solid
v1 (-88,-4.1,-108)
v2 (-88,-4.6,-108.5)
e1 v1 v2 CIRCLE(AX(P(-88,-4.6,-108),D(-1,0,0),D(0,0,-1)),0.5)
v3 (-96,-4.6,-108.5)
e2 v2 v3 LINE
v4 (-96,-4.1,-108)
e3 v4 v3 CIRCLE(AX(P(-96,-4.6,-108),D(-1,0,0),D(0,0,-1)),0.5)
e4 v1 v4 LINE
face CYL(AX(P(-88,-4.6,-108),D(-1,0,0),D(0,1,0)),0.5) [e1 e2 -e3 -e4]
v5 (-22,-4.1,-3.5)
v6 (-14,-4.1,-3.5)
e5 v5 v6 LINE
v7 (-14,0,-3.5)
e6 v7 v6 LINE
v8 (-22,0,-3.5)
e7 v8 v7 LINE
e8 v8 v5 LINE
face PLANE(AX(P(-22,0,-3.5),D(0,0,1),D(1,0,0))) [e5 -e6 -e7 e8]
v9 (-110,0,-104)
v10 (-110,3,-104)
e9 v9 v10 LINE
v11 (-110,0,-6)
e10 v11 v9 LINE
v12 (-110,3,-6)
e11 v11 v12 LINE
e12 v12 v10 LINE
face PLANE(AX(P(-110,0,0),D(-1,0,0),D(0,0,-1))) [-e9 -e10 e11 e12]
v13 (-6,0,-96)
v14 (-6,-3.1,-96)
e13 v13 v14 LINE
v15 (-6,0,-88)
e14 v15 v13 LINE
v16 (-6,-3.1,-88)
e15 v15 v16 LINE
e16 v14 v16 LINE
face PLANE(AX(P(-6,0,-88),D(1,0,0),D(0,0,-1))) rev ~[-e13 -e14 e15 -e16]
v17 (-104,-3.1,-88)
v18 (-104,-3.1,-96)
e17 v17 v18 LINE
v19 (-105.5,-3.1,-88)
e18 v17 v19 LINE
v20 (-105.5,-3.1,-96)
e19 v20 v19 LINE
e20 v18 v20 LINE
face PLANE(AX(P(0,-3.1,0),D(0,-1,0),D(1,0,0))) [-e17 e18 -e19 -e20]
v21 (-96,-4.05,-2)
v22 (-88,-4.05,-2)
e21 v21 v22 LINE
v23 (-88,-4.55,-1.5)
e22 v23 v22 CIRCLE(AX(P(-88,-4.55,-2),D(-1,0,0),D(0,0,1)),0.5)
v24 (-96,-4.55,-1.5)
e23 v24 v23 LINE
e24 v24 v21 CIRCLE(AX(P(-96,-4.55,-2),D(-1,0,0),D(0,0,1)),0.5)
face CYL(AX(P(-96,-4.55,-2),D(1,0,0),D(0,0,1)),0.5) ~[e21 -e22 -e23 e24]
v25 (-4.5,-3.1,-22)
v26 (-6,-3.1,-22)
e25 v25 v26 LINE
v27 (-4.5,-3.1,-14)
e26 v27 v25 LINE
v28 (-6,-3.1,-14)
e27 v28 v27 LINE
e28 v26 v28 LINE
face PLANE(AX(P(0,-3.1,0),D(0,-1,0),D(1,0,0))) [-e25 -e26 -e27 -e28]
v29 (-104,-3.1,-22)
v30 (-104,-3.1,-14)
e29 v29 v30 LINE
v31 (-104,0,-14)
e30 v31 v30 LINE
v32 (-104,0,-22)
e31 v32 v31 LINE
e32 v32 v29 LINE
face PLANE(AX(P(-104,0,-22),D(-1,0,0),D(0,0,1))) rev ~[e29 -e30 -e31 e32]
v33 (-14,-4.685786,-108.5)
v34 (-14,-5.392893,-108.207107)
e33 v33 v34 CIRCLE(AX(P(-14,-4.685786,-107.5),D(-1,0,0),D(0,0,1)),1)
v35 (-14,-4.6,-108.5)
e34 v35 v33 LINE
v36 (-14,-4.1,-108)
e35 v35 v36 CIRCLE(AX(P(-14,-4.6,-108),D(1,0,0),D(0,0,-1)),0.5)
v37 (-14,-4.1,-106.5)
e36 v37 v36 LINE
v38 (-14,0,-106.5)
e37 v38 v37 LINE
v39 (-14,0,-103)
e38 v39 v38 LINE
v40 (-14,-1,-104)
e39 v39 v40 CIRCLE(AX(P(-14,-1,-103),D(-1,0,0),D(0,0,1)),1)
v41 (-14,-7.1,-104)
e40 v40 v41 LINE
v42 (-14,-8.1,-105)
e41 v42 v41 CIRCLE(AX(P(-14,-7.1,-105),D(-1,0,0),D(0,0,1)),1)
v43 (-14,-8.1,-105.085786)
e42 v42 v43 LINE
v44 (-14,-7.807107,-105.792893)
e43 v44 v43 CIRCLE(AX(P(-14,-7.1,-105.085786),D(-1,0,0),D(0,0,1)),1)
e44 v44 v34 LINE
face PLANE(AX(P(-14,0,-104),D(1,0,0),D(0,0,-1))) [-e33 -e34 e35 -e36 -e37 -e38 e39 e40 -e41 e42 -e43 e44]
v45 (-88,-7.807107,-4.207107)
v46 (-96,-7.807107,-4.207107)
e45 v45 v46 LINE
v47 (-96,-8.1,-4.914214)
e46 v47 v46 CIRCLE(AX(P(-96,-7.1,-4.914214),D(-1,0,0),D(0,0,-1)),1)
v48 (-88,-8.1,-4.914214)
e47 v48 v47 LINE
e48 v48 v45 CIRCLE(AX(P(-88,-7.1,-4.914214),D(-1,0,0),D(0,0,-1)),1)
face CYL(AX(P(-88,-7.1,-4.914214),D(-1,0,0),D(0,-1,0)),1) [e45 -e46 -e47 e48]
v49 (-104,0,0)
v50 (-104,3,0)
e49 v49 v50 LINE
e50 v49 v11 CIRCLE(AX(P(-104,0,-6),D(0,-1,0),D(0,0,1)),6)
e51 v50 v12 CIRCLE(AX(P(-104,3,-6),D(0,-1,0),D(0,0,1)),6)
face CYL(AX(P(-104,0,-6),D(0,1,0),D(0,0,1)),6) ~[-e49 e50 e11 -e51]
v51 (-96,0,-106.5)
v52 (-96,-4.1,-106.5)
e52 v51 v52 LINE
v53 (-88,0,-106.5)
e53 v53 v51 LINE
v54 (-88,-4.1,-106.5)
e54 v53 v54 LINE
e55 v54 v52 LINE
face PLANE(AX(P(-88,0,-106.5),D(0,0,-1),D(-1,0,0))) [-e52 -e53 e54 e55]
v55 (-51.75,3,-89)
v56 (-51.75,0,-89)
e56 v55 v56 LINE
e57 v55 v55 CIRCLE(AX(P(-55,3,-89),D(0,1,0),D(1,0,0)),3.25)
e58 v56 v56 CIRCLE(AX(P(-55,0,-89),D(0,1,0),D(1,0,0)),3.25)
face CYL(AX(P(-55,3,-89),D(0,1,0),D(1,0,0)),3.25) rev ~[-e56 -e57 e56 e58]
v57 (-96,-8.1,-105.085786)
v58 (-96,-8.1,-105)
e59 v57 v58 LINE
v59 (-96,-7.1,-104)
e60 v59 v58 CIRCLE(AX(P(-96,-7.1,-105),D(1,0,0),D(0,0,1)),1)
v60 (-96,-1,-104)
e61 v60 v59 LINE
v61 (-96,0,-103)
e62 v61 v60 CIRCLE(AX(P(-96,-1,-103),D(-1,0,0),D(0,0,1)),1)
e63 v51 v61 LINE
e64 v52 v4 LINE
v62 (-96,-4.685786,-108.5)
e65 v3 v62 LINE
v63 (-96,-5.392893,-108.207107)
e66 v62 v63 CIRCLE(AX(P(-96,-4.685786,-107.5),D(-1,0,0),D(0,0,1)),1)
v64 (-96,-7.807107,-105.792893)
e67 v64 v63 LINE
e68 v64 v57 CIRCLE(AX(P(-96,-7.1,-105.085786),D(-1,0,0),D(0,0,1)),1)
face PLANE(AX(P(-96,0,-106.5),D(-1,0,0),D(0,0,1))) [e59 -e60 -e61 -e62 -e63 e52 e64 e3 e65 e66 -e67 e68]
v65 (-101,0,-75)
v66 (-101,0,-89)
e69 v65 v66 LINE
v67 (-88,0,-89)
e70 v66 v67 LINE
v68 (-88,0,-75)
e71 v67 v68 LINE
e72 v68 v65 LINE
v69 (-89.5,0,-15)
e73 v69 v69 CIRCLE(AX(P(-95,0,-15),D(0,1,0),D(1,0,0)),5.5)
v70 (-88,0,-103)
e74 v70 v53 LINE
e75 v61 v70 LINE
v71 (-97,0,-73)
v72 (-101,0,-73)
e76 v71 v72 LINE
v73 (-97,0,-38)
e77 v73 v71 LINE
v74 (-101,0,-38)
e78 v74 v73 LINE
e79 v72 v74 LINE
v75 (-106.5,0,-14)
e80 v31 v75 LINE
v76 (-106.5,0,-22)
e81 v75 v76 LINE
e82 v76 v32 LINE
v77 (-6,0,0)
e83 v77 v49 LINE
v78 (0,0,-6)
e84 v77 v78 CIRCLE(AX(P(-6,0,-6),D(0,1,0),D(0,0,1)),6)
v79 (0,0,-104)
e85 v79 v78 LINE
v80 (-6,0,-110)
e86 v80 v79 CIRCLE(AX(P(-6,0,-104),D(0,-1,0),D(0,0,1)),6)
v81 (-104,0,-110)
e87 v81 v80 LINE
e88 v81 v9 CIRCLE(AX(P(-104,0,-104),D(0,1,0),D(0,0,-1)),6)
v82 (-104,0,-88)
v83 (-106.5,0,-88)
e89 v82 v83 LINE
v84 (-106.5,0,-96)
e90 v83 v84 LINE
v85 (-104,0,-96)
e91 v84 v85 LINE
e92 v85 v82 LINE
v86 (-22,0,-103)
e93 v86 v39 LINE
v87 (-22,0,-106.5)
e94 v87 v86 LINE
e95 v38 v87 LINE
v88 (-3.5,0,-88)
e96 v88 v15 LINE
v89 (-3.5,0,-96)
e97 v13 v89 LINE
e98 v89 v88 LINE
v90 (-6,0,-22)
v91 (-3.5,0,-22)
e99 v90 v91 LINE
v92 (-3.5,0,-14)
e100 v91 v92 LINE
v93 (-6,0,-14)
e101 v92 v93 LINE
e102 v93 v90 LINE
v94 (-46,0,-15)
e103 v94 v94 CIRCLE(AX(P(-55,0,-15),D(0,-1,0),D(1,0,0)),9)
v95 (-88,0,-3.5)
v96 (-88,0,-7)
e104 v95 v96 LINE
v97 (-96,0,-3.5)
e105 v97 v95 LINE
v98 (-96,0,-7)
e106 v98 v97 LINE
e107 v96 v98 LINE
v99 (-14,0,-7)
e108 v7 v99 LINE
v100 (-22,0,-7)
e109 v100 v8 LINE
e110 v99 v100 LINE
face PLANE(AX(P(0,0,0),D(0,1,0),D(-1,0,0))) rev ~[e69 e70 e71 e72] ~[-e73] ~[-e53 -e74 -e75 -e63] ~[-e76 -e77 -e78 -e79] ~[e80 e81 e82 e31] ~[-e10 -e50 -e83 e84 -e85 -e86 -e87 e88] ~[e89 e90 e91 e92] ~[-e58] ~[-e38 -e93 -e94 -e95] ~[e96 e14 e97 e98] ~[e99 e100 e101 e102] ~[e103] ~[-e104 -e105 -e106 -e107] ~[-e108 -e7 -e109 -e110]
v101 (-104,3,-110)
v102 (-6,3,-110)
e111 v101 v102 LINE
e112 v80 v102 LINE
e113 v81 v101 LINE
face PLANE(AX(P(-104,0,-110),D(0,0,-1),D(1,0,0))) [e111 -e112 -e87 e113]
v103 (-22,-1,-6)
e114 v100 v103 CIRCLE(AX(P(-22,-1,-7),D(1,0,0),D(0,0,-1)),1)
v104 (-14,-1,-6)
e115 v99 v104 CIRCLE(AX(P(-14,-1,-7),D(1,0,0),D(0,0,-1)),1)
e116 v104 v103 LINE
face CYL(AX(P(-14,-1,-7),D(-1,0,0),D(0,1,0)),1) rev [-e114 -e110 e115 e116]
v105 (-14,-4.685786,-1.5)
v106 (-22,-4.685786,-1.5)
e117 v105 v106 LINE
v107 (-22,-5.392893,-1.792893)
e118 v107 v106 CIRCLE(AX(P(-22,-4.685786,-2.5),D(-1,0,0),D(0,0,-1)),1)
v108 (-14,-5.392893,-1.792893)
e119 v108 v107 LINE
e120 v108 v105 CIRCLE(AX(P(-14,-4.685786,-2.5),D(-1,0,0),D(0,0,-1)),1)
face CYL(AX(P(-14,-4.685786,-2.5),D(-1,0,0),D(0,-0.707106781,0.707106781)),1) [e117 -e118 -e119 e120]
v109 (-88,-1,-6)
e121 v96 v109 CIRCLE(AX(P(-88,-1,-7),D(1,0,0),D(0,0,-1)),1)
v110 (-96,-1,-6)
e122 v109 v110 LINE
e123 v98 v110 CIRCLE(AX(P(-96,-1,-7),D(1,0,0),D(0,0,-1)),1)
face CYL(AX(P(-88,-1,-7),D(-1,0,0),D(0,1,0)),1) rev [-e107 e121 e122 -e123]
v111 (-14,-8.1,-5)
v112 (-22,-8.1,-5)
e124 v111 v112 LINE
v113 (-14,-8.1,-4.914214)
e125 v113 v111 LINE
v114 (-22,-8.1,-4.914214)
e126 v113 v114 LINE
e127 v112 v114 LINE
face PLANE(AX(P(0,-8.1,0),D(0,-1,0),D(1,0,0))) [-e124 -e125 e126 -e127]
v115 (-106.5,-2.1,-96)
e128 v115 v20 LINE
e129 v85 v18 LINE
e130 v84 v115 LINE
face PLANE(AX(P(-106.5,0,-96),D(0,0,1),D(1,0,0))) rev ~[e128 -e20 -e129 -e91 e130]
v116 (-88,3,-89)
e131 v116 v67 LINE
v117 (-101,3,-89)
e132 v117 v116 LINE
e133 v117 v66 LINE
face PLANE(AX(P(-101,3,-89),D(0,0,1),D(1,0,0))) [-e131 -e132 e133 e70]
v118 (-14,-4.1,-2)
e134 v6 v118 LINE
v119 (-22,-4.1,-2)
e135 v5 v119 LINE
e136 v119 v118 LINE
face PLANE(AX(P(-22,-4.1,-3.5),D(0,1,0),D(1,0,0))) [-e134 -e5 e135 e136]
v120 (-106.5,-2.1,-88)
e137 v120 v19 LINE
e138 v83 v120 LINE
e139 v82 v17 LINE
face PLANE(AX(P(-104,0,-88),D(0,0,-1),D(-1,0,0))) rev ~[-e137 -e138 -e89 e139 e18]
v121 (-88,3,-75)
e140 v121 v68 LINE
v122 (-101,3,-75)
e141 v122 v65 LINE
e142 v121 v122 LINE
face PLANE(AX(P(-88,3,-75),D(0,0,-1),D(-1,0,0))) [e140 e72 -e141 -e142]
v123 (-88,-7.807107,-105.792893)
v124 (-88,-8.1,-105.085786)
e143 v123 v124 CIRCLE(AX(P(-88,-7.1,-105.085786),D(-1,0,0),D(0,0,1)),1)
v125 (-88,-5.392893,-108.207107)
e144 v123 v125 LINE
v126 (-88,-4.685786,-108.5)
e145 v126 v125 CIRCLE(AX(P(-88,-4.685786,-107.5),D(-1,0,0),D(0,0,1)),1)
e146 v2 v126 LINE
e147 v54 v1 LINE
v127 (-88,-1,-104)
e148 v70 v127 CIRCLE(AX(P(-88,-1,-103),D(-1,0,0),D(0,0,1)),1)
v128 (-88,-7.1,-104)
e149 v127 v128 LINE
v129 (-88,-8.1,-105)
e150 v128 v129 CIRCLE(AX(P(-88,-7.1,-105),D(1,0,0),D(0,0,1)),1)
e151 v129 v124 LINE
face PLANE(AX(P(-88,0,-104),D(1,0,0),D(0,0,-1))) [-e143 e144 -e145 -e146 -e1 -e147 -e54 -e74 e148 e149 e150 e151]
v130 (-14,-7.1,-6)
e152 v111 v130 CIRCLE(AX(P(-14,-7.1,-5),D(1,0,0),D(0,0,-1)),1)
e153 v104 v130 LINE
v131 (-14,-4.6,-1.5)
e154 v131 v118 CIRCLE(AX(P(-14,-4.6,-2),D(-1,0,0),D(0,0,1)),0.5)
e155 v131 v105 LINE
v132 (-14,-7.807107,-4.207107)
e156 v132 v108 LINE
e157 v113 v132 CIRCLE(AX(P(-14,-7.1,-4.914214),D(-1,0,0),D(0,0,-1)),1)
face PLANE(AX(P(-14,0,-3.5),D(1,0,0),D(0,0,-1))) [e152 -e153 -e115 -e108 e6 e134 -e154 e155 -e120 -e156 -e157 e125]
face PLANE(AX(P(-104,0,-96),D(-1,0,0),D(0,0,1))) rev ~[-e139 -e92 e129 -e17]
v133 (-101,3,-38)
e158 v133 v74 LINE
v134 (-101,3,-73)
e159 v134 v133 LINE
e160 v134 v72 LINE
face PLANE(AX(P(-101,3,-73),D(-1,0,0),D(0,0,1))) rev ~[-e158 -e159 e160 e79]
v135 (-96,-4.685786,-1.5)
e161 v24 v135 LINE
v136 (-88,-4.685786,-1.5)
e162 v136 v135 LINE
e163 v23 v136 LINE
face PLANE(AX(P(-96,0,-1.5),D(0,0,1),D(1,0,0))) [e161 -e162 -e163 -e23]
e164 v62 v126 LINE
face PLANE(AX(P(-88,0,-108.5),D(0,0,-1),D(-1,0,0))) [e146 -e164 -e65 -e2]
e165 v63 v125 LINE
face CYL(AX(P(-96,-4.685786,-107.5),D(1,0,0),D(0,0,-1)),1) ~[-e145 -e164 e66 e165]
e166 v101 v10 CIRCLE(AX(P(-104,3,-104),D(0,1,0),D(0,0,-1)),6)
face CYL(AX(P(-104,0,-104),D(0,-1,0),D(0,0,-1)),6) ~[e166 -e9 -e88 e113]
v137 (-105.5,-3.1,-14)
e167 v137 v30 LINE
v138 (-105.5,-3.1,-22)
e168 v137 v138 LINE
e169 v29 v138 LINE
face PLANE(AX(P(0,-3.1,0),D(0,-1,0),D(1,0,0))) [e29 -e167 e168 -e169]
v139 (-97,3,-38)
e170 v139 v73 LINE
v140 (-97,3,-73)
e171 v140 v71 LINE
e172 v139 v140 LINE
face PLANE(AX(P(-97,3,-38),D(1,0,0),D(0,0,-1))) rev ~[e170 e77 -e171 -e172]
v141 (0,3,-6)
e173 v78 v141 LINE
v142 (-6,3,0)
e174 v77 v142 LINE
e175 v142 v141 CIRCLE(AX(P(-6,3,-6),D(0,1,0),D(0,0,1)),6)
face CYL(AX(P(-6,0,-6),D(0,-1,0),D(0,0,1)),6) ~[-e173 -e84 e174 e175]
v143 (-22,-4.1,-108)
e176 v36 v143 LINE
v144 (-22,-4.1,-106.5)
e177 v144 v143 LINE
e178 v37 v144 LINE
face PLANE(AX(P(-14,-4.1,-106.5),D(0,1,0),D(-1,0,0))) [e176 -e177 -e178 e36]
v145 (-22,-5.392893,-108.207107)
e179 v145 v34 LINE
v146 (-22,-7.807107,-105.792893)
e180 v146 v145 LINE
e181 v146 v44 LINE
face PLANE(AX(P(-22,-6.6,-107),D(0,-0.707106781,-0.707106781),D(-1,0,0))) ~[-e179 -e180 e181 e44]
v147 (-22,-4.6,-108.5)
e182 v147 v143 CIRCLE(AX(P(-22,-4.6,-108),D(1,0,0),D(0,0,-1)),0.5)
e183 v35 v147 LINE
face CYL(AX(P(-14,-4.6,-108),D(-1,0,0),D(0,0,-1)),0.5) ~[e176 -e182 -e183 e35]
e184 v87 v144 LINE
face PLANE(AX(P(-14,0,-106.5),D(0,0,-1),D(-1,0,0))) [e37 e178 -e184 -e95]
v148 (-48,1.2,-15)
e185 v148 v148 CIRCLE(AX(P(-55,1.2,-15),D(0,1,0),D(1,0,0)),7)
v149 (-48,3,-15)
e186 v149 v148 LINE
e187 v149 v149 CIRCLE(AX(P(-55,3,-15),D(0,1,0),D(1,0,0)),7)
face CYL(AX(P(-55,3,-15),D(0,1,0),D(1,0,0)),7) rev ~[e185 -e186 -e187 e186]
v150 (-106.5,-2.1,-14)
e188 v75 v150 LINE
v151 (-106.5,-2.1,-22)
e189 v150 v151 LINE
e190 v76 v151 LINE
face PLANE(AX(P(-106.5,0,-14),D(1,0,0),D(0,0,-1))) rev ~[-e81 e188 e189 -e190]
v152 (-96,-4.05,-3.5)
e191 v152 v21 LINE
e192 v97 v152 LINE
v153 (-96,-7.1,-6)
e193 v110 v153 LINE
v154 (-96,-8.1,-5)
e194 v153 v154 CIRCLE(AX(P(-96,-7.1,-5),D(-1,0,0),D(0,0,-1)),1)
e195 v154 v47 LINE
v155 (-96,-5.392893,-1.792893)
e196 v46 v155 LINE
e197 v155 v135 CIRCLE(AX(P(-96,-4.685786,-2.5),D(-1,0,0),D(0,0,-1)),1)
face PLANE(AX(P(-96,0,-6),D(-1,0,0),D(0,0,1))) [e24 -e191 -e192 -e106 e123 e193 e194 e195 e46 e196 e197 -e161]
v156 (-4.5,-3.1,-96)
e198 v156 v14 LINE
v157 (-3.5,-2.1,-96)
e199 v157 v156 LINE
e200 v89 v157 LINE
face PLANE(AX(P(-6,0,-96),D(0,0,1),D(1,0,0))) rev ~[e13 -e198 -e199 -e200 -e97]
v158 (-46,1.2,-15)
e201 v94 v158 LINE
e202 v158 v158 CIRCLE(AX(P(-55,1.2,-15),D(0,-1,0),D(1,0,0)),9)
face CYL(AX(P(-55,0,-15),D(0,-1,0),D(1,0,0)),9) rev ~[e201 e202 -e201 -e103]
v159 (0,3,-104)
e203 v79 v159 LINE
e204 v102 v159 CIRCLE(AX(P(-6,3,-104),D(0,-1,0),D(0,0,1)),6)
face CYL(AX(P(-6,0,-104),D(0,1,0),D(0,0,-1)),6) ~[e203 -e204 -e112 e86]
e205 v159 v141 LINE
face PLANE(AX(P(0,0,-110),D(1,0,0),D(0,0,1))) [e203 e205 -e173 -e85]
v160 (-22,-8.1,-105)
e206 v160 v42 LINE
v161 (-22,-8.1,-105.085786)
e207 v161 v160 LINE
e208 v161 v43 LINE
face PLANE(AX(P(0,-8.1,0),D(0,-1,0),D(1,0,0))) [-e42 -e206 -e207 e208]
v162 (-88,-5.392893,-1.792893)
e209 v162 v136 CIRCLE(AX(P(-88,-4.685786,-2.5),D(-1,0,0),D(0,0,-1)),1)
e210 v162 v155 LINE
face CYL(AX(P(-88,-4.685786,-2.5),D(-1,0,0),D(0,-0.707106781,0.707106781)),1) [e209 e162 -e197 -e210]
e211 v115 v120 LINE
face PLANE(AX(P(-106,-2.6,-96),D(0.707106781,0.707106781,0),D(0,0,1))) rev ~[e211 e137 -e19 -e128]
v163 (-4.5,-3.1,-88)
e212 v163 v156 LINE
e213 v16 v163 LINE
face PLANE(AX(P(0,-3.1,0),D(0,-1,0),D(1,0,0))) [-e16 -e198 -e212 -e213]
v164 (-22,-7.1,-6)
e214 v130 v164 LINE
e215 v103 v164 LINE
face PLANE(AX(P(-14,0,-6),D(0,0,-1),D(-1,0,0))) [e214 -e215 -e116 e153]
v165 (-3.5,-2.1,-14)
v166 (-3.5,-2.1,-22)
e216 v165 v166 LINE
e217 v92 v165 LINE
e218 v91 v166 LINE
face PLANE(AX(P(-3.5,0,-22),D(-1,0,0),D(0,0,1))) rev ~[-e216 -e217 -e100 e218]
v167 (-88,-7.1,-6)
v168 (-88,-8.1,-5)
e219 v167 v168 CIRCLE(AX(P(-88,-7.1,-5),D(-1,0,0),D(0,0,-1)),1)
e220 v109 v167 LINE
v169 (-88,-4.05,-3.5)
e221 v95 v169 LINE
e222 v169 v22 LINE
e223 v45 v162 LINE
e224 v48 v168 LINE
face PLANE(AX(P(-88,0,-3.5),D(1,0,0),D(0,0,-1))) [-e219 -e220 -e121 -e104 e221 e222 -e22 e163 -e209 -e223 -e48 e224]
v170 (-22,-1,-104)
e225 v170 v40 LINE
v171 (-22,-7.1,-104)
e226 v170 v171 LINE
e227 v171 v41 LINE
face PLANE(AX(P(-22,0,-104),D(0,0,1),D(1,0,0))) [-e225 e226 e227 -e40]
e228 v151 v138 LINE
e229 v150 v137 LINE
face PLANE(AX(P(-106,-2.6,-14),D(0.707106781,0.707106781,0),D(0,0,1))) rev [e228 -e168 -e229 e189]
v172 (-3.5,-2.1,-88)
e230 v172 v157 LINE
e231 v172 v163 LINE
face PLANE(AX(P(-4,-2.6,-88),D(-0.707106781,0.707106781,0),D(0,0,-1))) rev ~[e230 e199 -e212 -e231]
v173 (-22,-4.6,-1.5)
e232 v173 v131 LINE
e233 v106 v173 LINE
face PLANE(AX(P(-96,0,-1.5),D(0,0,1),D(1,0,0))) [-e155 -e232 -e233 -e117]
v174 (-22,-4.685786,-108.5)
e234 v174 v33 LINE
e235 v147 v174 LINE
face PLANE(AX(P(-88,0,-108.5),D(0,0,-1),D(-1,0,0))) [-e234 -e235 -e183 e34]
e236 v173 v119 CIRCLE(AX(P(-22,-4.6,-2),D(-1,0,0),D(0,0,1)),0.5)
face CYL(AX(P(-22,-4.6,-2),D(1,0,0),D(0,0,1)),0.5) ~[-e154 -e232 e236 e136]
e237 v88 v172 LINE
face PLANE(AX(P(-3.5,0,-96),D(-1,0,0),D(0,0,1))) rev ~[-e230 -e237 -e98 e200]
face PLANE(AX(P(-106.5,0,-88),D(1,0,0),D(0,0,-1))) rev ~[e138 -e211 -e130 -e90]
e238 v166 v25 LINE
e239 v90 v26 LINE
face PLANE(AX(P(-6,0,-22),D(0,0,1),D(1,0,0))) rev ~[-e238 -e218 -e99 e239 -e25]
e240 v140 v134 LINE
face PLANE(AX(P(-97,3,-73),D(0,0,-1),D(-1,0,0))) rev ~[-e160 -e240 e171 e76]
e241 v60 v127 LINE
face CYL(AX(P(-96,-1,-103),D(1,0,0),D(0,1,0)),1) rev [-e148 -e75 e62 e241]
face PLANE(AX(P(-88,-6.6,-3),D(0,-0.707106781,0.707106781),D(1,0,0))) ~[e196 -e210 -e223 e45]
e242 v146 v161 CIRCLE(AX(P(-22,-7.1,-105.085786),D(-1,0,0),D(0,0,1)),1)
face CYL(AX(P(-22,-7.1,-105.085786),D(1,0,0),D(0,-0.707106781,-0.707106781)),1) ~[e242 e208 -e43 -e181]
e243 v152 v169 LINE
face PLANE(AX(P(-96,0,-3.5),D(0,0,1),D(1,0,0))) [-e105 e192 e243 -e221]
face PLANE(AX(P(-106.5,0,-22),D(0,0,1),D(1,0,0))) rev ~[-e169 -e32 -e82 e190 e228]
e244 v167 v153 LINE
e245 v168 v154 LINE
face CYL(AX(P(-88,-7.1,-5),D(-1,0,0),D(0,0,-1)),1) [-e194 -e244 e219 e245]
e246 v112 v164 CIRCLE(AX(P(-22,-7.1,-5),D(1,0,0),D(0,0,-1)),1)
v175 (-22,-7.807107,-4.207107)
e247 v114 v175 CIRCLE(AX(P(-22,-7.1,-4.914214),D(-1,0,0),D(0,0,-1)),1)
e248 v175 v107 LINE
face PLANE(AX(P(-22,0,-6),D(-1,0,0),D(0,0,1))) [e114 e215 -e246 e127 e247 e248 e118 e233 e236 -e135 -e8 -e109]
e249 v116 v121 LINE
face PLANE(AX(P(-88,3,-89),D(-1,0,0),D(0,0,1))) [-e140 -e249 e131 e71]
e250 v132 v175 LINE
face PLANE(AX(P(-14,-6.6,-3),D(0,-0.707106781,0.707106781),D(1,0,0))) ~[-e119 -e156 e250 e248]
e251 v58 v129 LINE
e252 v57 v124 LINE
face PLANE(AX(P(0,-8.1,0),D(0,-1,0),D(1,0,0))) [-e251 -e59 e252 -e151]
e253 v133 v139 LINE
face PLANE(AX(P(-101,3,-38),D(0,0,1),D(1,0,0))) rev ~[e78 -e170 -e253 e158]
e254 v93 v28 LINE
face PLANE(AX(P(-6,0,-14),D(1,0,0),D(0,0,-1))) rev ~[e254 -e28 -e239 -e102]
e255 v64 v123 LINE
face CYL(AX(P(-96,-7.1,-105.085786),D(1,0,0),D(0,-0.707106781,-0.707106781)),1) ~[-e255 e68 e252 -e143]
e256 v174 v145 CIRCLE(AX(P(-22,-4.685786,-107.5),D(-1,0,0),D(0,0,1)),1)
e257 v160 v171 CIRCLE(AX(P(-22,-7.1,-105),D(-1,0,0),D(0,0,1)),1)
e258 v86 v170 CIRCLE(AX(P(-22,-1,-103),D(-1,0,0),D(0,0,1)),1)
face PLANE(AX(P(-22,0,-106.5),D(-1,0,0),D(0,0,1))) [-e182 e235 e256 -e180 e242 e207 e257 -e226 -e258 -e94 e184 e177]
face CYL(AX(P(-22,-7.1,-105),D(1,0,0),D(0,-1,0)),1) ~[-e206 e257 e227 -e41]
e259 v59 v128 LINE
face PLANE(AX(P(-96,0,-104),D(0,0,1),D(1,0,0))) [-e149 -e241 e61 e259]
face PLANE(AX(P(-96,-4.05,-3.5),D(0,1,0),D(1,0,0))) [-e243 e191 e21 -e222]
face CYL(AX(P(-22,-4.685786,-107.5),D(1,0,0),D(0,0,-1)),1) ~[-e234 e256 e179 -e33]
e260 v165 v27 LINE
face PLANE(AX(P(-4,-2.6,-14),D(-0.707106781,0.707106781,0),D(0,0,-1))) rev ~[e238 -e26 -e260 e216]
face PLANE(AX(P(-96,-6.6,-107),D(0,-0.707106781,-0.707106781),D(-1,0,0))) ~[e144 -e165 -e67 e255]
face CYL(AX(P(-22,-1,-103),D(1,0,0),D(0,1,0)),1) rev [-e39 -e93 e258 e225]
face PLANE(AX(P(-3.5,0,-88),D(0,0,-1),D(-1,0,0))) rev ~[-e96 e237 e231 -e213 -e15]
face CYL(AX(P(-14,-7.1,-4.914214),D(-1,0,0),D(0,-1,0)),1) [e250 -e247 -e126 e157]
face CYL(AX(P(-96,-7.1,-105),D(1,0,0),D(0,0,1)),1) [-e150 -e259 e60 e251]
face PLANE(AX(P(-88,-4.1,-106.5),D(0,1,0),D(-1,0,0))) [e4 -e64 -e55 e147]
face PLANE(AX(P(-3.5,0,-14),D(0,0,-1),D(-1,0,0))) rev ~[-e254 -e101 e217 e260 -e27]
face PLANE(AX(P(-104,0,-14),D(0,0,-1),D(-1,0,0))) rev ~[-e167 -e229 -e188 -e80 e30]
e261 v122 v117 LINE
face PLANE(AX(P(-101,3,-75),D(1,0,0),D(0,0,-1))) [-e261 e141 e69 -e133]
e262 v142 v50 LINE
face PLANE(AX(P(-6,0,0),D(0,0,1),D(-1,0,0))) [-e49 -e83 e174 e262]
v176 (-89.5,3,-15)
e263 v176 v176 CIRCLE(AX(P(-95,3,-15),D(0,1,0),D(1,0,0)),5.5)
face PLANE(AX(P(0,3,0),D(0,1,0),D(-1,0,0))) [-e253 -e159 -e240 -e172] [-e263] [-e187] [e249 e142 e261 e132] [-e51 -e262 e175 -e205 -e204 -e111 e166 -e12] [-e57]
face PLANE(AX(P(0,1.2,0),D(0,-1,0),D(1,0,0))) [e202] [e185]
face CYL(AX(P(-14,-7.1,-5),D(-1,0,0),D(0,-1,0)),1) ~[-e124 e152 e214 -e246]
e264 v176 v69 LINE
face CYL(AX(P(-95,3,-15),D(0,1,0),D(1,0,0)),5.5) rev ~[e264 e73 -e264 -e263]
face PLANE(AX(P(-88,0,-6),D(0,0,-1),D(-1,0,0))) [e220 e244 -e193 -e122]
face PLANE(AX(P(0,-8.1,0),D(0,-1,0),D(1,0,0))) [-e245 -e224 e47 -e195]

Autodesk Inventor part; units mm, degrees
ref_plane "YZ Plane" through (0, 0, 0) normal (1, 0, 0) x (0, 1, 0)
ref_plane "XZ Plane" through (0, 0, 0) normal (0, 1, 0) x (-1, 0, 0)
ref_plane "XY Plane" through (0, 0, 0) normal (0, 0, 1) x (1, 0, 0)
sketch "Sketch1" plane through (0, 0, 0) normal (0, 1, 0) x (-1, 0, 0)
  line L0 (6, 0) -> (110, 0)
  line L1 (110, 0) -> (110, -104)
  line L2 (104, -110) -> (0, -110)
  line L3 (0, -110) -> (0, -6)
  arc A0 (104, -110) -> (110, -104) centre (104, -104) ccw
  arc A1 (6, 0) -> (0, -6) centre (6, -6) ccw
  point P0 (0, 0)
  point P1 (110, -110)
  dimension "d0" = 110
  dimension "d1" = 110
  dimension "d2" = 6
extrude "Extrusion1" add sketch "Sketch1" along normal blind 3
fillet "Fillet1" radius 6 2 edges at (-110, 1.5, 0) (0, 1.5, -110)
sketch "Sketch2" plane through (0, 3, 0) normal (0, 1, 0) x (1, 0, 0)
  line L0 (-88, 75) -> (-101, 75)
  line L1 (-101, 75) -> (-101, 89)
  line L2 (-101, 89) -> (-88, 89)
  line L3 (-88, 89) -> (-88, 75)
  line L4 (-6, 110) -> (-104, 110) projected
  line L5 (-110, 104) -> (-110, 6) projected
  line L6 (-101, 38) -> (-97, 38)
  line L7 (-97, 38) -> (-97, 73)
  line L8 (-97, 73) -> (-101, 73)
  line L9 (-101, 73) -> (-101, 38)
  circle A0 centre (-55, 89) radius 3.25
  circle A1 centre (-95, 15) radius 5.5
  line L10 (-104, 0) -> (-6, 0) projected
  circle A2 centre (-55, 15) radius 7
  line L11 (0, 6) -> (0, 104) projected
  point P0 (0, 0)
  point P1 (-94.5, 89)
  point P2 (-99, 73)
  point P3 (-99, 38)
  dimension "d6" = 21
  dimension "d7" = 14
  dimension "d8" = 9
  dimension "d11" = 13
  dimension "d12" = 4
  dimension "d13" = 35
  dimension "d14" = 9
  dimension "d15" = 2
  dimension "d55" = 6.5
  dimension "d56" = 55
  dimension "d57" = 21
  dimension "d58" = 11
  dimension "d59" = 15
  dimension "d60" = 15
  dimension "d61" = 14
  dimension "d62" = 15
  dimension "d63" = 55
extrude "Extrusion2" cut sketch "Sketch2" against normal blind 3
sketch "Sketch3" plane through (0, 0, 0) normal (0, -1, 0) x (1, 0, 0)
  line L0 (-88, -106.5) -> (-96, -106.5)
  line L1 (-96, -106.5) -> (-96, -104)
  line L2 (-96, -104) -> (-88, -104)
  line L3 (-88, -104) -> (-88, -106.5)
  line L4 (-6, -110) -> (-104, -110) projected
  line L5 (-110, -104) -> (-110, -6) projected
  line L6 (-14, -106.5) -> (-22, -106.5)
  line L7 (-22, -106.5) -> (-22, -104)
  line L8 (-22, -104) -> (-14, -104)
  line L9 (-14, -104) -> (-14, -106.5)
  line L10 (-88, -6) -> (-96, -6)
  line L11 (-96, -6) -> (-96, -3.5)
  line L12 (-96, -3.5) -> (-88, -3.5)
  line L13 (-88, -3.5) -> (-88, -6)
  line L14 (-14, -6) -> (-22, -6)
  line L15 (-22, -6) -> (-22, -3.5)
  line L16 (-22, -3.5) -> (-14, -3.5)
  line L17 (-14, -3.5) -> (-14, -6)
  line L18 (-104, -14) -> (-106.5, -14)
  line L19 (-106.5, -14) -> (-106.5, -22)
  line L20 (-106.5, -22) -> (-104, -22)
  line L21 (-104, -22) -> (-104, -14)
  line L22 (-104, 0) -> (-6, 0) projected
  line L23 (-104, -96) -> (-104, -88)
  line L24 (-104, -88) -> (-106.5, -88)
  line L25 (-106.5, -88) -> (-106.5, -96)
  line L26 (-106.5, -96) -> (-104, -96)
  line L27 (-3.5, -22) -> (-3.5, -14)
  line L28 (-3.5, -14) -> (-6, -14)
  line L29 (-6, -14) -> (-6, -22)
  line L30 (-6, -22) -> (-3.5, -22)
  line L31 (-3.5, -96) -> (-3.5, -88)
  line L32 (-3.5, -88) -> (-6, -88)
  line L33 (-6, -88) -> (-6, -96)
  line L34 (-6, -96) -> (-3.5, -96)
  point P0 (0, 0)
  dimension "d20" = 8
  dimension "d21" = 2.5
  dimension "d22" = 3.5
  dimension "d23" = 14
  dimension "d26" = 74
  dimension "d29" = 100.5
  dimension "d67" = 8
  dimension "d68" = 2.5
  dimension "d69" = 3.5
  dimension "d70" = 14
  dimension "d73" = 74
  dimension "d76" = 100.5
extrude "Extrusion3" add sketch "Sketch3" along normal blind 8.1
sketch "Sketch4" plane through (-88, 0, -106.5) normal (0, 0, -1) x (-1, 0, 0)
  line L0 (0, 0) -> (0, -8.1) projected
  line L1 (8, -8.1) -> (0, -8.1)
  line L2 (0, -8.1) -> (0, -4.1)
  line L3 (0, -4.1) -> (8, -4.1)
  line L4 (8, -4.1) -> (8, -8.1)
  line L5 (8, -8.1) -> (0, -8.1) projected
  line L6 (8, 0) -> (8, -8.1) projected
  line L7 (-66, 0) -> (-66, -8.1) projected
  line L8 (-74, 0) -> (-74, -8.1) projected
  line L9 (-66, -8.1) -> (-74, -8.1)
  line L10 (-74, -8.1) -> (-74, -4.1)
  line L11 (-74, -4.1) -> (-66, -4.1)
  line L12 (-66, -4.1) -> (-66, -8.1)
  point P0 (-88, 0)
  point P1 (0, -8.1)
  dimension "d34" = 4
  dimension "d35" = 0
  dimension "d36" = 0
  dimension "d37" = 4
extrude "Extrusion4" add sketch "Sketch4" along normal blind 2
chamfer "Chamfer1" distance 3 angle 45 2 edges at (-92, -8.1, -108.5) (-18, -8.1, -108.5)
fillet "Fillet2" radius 1 6 edges at (-92, -5.1, -108.5) (-18, -5.1, -108.5) (-18, -8.1, -105.5) (-92, -8.1, -105.5) (-92, -8.1, -104) (-18, -8.1, -104)
fillet "Fillet3" radius 0.5 2 edges at (-92, -4.1, -108.5) (-18, -4.1, -108.5)
sketch "Sketch5" plane through (-96, 0, -3.5) normal (0, 0, 1) x (1, 0, 0)
  line L0 (8, 0) -> (8, -8.1) projected
  line L1 (0, 0) -> (0, -8.1) projected
  line L2 (8, -8.1) -> (0, -8.1)
  line L3 (0, -8.1) -> (0, -4.05)
  line L4 (0, -4.05) -> (8, -4.05)
  line L5 (8, -4.05) -> (8, -8.1)
  line L6 (82, -8.1) -> (74, -8.1) projected
  line L7 (82, -8.1) -> (74, -8.1)
  line L8 (74, -8.1) -> (74, -4.1)
  line L9 (74, -4.1) -> (82, -4.1)
  line L10 (82, -4.1) -> (82, -8.1)
  point P0 (96, 0)
  point P1 (8, -4.05)
  dimension "d45" = 4.05
extrude "Extrusion5" add sketch "Sketch5" along normal blind 2
chamfer "Chamfer2" distance 3 angle 45 2 edges at (-92, -8.1, -1.5) (-18, -8.1, -1.5)
fillet "Fillet4" radius 1 6 edges at (-18, -8.1, -4.5) (-18, -5.1, -1.5) (-18, -8.1, -6) (-92, -8.1, -4.5) (-92, -5.1, -1.5) (-92, -8.1, -6)
fillet "Fillet5" radius 0.5 2 edges at (-92, -4.05, -1.5) (-18, -4.1, -1.5)
fillet "Fillet6" radius 1 1 edges at (-92, 0, -104)
fillet "Fillet7" radius 1 3 edges at (-18, 0, -104) (-18, 0, -6) (-92, 0, -6)
sketch "Sketch6" plane through (0, 0, 0) normal (0, -1, 0) x (1, 0, 0)
  circle A0 centre (-55, -15) radius 7 projected
  circle A1 centre (-55, -15) radius 9
  point P0 (0, 0)
  dimension "d64" = 18
extrude "Extrusion6" cut sketch "Sketch6" against normal blind 1.2 contours A0 | A1
sketch "Sketch7" plane through (0, -8.1, 0) normal (0, -1, 0) x (1, 0, 0)
  line L0 (-106.5, -14) -> (-106.5, -22) projected
  line L1 (-104, -22) -> (-104, -14) projected
  line L2 (-106.5, -14) -> (-104, -14)
  line L3 (-104, -14) -> (-104, -22)
  line L4 (-104, -22) -> (-106.5, -22)
  line L5 (-106.5, -22) -> (-106.5, -14)
  line L6 (-104, -88) -> (-106.5, -88) projected
  line L7 (-106.5, -88) -> (-104, -88)
  line L8 (-104, -88) -> (-104, -96)
  line L9 (-104, -96) -> (-106.5, -96)
  line L10 (-106.5, -96) -> (-106.5, -88)
  line L11 (-6, -22) -> (-6, -14) projected
  line L12 (-3.5, -14) -> (-3.5, -22) projected
  line L13 (-6, -14) -> (-3.5, -14)
  line L14 (-3.5, -14) -> (-3.5, -22)
  line L15 (-3.5, -22) -> (-6, -22)
  line L16 (-6, -22) -> (-6, -14)
  line L17 (-6, -88) -> (-3.5, -88) projected
  line L18 (-3.5, -96) -> (-6, -96) projected
  line L19 (-6, -88) -> (-3.5, -88)
  line L20 (-3.5, -88) -> (-3.5, -96)
  line L21 (-3.5, -96) -> (-6, -96)
  line L22 (-6, -96) -> (-6, -88)
  point P0 (0, 0)
  dimension "d81" = 8
extrude "Extrusion7" cut sketch "Sketch7" against normal blind 5
chamfer "Chamfer3" distance 1 angle 45 4 edges at (-3.5, -3.1, -92) (-3.5, -3.1, -18) (-106.5, -3.1, -92) (-106.5, -3.1, -18)
equation "\"d14\" = d8"
equation "\"d56\" = 0.5 * d0"
equation "\"d57\" = d6"
equation "\"d63\" = 0.5 * d0"
equation "\"d26\" = d0 - d20 - 2 * d23"
equation "\"d29\" = d1 - d21 - 2 * d22"
equation "\"d67\" = d20"
equation "\"d68\" = d21"
equation "\"d69\" = d22"
equation "\"d70\" = d23"
equation "\"d73\" = d26"
equation "\"d76\" = d29"
properties part number "Cover-USB side"
